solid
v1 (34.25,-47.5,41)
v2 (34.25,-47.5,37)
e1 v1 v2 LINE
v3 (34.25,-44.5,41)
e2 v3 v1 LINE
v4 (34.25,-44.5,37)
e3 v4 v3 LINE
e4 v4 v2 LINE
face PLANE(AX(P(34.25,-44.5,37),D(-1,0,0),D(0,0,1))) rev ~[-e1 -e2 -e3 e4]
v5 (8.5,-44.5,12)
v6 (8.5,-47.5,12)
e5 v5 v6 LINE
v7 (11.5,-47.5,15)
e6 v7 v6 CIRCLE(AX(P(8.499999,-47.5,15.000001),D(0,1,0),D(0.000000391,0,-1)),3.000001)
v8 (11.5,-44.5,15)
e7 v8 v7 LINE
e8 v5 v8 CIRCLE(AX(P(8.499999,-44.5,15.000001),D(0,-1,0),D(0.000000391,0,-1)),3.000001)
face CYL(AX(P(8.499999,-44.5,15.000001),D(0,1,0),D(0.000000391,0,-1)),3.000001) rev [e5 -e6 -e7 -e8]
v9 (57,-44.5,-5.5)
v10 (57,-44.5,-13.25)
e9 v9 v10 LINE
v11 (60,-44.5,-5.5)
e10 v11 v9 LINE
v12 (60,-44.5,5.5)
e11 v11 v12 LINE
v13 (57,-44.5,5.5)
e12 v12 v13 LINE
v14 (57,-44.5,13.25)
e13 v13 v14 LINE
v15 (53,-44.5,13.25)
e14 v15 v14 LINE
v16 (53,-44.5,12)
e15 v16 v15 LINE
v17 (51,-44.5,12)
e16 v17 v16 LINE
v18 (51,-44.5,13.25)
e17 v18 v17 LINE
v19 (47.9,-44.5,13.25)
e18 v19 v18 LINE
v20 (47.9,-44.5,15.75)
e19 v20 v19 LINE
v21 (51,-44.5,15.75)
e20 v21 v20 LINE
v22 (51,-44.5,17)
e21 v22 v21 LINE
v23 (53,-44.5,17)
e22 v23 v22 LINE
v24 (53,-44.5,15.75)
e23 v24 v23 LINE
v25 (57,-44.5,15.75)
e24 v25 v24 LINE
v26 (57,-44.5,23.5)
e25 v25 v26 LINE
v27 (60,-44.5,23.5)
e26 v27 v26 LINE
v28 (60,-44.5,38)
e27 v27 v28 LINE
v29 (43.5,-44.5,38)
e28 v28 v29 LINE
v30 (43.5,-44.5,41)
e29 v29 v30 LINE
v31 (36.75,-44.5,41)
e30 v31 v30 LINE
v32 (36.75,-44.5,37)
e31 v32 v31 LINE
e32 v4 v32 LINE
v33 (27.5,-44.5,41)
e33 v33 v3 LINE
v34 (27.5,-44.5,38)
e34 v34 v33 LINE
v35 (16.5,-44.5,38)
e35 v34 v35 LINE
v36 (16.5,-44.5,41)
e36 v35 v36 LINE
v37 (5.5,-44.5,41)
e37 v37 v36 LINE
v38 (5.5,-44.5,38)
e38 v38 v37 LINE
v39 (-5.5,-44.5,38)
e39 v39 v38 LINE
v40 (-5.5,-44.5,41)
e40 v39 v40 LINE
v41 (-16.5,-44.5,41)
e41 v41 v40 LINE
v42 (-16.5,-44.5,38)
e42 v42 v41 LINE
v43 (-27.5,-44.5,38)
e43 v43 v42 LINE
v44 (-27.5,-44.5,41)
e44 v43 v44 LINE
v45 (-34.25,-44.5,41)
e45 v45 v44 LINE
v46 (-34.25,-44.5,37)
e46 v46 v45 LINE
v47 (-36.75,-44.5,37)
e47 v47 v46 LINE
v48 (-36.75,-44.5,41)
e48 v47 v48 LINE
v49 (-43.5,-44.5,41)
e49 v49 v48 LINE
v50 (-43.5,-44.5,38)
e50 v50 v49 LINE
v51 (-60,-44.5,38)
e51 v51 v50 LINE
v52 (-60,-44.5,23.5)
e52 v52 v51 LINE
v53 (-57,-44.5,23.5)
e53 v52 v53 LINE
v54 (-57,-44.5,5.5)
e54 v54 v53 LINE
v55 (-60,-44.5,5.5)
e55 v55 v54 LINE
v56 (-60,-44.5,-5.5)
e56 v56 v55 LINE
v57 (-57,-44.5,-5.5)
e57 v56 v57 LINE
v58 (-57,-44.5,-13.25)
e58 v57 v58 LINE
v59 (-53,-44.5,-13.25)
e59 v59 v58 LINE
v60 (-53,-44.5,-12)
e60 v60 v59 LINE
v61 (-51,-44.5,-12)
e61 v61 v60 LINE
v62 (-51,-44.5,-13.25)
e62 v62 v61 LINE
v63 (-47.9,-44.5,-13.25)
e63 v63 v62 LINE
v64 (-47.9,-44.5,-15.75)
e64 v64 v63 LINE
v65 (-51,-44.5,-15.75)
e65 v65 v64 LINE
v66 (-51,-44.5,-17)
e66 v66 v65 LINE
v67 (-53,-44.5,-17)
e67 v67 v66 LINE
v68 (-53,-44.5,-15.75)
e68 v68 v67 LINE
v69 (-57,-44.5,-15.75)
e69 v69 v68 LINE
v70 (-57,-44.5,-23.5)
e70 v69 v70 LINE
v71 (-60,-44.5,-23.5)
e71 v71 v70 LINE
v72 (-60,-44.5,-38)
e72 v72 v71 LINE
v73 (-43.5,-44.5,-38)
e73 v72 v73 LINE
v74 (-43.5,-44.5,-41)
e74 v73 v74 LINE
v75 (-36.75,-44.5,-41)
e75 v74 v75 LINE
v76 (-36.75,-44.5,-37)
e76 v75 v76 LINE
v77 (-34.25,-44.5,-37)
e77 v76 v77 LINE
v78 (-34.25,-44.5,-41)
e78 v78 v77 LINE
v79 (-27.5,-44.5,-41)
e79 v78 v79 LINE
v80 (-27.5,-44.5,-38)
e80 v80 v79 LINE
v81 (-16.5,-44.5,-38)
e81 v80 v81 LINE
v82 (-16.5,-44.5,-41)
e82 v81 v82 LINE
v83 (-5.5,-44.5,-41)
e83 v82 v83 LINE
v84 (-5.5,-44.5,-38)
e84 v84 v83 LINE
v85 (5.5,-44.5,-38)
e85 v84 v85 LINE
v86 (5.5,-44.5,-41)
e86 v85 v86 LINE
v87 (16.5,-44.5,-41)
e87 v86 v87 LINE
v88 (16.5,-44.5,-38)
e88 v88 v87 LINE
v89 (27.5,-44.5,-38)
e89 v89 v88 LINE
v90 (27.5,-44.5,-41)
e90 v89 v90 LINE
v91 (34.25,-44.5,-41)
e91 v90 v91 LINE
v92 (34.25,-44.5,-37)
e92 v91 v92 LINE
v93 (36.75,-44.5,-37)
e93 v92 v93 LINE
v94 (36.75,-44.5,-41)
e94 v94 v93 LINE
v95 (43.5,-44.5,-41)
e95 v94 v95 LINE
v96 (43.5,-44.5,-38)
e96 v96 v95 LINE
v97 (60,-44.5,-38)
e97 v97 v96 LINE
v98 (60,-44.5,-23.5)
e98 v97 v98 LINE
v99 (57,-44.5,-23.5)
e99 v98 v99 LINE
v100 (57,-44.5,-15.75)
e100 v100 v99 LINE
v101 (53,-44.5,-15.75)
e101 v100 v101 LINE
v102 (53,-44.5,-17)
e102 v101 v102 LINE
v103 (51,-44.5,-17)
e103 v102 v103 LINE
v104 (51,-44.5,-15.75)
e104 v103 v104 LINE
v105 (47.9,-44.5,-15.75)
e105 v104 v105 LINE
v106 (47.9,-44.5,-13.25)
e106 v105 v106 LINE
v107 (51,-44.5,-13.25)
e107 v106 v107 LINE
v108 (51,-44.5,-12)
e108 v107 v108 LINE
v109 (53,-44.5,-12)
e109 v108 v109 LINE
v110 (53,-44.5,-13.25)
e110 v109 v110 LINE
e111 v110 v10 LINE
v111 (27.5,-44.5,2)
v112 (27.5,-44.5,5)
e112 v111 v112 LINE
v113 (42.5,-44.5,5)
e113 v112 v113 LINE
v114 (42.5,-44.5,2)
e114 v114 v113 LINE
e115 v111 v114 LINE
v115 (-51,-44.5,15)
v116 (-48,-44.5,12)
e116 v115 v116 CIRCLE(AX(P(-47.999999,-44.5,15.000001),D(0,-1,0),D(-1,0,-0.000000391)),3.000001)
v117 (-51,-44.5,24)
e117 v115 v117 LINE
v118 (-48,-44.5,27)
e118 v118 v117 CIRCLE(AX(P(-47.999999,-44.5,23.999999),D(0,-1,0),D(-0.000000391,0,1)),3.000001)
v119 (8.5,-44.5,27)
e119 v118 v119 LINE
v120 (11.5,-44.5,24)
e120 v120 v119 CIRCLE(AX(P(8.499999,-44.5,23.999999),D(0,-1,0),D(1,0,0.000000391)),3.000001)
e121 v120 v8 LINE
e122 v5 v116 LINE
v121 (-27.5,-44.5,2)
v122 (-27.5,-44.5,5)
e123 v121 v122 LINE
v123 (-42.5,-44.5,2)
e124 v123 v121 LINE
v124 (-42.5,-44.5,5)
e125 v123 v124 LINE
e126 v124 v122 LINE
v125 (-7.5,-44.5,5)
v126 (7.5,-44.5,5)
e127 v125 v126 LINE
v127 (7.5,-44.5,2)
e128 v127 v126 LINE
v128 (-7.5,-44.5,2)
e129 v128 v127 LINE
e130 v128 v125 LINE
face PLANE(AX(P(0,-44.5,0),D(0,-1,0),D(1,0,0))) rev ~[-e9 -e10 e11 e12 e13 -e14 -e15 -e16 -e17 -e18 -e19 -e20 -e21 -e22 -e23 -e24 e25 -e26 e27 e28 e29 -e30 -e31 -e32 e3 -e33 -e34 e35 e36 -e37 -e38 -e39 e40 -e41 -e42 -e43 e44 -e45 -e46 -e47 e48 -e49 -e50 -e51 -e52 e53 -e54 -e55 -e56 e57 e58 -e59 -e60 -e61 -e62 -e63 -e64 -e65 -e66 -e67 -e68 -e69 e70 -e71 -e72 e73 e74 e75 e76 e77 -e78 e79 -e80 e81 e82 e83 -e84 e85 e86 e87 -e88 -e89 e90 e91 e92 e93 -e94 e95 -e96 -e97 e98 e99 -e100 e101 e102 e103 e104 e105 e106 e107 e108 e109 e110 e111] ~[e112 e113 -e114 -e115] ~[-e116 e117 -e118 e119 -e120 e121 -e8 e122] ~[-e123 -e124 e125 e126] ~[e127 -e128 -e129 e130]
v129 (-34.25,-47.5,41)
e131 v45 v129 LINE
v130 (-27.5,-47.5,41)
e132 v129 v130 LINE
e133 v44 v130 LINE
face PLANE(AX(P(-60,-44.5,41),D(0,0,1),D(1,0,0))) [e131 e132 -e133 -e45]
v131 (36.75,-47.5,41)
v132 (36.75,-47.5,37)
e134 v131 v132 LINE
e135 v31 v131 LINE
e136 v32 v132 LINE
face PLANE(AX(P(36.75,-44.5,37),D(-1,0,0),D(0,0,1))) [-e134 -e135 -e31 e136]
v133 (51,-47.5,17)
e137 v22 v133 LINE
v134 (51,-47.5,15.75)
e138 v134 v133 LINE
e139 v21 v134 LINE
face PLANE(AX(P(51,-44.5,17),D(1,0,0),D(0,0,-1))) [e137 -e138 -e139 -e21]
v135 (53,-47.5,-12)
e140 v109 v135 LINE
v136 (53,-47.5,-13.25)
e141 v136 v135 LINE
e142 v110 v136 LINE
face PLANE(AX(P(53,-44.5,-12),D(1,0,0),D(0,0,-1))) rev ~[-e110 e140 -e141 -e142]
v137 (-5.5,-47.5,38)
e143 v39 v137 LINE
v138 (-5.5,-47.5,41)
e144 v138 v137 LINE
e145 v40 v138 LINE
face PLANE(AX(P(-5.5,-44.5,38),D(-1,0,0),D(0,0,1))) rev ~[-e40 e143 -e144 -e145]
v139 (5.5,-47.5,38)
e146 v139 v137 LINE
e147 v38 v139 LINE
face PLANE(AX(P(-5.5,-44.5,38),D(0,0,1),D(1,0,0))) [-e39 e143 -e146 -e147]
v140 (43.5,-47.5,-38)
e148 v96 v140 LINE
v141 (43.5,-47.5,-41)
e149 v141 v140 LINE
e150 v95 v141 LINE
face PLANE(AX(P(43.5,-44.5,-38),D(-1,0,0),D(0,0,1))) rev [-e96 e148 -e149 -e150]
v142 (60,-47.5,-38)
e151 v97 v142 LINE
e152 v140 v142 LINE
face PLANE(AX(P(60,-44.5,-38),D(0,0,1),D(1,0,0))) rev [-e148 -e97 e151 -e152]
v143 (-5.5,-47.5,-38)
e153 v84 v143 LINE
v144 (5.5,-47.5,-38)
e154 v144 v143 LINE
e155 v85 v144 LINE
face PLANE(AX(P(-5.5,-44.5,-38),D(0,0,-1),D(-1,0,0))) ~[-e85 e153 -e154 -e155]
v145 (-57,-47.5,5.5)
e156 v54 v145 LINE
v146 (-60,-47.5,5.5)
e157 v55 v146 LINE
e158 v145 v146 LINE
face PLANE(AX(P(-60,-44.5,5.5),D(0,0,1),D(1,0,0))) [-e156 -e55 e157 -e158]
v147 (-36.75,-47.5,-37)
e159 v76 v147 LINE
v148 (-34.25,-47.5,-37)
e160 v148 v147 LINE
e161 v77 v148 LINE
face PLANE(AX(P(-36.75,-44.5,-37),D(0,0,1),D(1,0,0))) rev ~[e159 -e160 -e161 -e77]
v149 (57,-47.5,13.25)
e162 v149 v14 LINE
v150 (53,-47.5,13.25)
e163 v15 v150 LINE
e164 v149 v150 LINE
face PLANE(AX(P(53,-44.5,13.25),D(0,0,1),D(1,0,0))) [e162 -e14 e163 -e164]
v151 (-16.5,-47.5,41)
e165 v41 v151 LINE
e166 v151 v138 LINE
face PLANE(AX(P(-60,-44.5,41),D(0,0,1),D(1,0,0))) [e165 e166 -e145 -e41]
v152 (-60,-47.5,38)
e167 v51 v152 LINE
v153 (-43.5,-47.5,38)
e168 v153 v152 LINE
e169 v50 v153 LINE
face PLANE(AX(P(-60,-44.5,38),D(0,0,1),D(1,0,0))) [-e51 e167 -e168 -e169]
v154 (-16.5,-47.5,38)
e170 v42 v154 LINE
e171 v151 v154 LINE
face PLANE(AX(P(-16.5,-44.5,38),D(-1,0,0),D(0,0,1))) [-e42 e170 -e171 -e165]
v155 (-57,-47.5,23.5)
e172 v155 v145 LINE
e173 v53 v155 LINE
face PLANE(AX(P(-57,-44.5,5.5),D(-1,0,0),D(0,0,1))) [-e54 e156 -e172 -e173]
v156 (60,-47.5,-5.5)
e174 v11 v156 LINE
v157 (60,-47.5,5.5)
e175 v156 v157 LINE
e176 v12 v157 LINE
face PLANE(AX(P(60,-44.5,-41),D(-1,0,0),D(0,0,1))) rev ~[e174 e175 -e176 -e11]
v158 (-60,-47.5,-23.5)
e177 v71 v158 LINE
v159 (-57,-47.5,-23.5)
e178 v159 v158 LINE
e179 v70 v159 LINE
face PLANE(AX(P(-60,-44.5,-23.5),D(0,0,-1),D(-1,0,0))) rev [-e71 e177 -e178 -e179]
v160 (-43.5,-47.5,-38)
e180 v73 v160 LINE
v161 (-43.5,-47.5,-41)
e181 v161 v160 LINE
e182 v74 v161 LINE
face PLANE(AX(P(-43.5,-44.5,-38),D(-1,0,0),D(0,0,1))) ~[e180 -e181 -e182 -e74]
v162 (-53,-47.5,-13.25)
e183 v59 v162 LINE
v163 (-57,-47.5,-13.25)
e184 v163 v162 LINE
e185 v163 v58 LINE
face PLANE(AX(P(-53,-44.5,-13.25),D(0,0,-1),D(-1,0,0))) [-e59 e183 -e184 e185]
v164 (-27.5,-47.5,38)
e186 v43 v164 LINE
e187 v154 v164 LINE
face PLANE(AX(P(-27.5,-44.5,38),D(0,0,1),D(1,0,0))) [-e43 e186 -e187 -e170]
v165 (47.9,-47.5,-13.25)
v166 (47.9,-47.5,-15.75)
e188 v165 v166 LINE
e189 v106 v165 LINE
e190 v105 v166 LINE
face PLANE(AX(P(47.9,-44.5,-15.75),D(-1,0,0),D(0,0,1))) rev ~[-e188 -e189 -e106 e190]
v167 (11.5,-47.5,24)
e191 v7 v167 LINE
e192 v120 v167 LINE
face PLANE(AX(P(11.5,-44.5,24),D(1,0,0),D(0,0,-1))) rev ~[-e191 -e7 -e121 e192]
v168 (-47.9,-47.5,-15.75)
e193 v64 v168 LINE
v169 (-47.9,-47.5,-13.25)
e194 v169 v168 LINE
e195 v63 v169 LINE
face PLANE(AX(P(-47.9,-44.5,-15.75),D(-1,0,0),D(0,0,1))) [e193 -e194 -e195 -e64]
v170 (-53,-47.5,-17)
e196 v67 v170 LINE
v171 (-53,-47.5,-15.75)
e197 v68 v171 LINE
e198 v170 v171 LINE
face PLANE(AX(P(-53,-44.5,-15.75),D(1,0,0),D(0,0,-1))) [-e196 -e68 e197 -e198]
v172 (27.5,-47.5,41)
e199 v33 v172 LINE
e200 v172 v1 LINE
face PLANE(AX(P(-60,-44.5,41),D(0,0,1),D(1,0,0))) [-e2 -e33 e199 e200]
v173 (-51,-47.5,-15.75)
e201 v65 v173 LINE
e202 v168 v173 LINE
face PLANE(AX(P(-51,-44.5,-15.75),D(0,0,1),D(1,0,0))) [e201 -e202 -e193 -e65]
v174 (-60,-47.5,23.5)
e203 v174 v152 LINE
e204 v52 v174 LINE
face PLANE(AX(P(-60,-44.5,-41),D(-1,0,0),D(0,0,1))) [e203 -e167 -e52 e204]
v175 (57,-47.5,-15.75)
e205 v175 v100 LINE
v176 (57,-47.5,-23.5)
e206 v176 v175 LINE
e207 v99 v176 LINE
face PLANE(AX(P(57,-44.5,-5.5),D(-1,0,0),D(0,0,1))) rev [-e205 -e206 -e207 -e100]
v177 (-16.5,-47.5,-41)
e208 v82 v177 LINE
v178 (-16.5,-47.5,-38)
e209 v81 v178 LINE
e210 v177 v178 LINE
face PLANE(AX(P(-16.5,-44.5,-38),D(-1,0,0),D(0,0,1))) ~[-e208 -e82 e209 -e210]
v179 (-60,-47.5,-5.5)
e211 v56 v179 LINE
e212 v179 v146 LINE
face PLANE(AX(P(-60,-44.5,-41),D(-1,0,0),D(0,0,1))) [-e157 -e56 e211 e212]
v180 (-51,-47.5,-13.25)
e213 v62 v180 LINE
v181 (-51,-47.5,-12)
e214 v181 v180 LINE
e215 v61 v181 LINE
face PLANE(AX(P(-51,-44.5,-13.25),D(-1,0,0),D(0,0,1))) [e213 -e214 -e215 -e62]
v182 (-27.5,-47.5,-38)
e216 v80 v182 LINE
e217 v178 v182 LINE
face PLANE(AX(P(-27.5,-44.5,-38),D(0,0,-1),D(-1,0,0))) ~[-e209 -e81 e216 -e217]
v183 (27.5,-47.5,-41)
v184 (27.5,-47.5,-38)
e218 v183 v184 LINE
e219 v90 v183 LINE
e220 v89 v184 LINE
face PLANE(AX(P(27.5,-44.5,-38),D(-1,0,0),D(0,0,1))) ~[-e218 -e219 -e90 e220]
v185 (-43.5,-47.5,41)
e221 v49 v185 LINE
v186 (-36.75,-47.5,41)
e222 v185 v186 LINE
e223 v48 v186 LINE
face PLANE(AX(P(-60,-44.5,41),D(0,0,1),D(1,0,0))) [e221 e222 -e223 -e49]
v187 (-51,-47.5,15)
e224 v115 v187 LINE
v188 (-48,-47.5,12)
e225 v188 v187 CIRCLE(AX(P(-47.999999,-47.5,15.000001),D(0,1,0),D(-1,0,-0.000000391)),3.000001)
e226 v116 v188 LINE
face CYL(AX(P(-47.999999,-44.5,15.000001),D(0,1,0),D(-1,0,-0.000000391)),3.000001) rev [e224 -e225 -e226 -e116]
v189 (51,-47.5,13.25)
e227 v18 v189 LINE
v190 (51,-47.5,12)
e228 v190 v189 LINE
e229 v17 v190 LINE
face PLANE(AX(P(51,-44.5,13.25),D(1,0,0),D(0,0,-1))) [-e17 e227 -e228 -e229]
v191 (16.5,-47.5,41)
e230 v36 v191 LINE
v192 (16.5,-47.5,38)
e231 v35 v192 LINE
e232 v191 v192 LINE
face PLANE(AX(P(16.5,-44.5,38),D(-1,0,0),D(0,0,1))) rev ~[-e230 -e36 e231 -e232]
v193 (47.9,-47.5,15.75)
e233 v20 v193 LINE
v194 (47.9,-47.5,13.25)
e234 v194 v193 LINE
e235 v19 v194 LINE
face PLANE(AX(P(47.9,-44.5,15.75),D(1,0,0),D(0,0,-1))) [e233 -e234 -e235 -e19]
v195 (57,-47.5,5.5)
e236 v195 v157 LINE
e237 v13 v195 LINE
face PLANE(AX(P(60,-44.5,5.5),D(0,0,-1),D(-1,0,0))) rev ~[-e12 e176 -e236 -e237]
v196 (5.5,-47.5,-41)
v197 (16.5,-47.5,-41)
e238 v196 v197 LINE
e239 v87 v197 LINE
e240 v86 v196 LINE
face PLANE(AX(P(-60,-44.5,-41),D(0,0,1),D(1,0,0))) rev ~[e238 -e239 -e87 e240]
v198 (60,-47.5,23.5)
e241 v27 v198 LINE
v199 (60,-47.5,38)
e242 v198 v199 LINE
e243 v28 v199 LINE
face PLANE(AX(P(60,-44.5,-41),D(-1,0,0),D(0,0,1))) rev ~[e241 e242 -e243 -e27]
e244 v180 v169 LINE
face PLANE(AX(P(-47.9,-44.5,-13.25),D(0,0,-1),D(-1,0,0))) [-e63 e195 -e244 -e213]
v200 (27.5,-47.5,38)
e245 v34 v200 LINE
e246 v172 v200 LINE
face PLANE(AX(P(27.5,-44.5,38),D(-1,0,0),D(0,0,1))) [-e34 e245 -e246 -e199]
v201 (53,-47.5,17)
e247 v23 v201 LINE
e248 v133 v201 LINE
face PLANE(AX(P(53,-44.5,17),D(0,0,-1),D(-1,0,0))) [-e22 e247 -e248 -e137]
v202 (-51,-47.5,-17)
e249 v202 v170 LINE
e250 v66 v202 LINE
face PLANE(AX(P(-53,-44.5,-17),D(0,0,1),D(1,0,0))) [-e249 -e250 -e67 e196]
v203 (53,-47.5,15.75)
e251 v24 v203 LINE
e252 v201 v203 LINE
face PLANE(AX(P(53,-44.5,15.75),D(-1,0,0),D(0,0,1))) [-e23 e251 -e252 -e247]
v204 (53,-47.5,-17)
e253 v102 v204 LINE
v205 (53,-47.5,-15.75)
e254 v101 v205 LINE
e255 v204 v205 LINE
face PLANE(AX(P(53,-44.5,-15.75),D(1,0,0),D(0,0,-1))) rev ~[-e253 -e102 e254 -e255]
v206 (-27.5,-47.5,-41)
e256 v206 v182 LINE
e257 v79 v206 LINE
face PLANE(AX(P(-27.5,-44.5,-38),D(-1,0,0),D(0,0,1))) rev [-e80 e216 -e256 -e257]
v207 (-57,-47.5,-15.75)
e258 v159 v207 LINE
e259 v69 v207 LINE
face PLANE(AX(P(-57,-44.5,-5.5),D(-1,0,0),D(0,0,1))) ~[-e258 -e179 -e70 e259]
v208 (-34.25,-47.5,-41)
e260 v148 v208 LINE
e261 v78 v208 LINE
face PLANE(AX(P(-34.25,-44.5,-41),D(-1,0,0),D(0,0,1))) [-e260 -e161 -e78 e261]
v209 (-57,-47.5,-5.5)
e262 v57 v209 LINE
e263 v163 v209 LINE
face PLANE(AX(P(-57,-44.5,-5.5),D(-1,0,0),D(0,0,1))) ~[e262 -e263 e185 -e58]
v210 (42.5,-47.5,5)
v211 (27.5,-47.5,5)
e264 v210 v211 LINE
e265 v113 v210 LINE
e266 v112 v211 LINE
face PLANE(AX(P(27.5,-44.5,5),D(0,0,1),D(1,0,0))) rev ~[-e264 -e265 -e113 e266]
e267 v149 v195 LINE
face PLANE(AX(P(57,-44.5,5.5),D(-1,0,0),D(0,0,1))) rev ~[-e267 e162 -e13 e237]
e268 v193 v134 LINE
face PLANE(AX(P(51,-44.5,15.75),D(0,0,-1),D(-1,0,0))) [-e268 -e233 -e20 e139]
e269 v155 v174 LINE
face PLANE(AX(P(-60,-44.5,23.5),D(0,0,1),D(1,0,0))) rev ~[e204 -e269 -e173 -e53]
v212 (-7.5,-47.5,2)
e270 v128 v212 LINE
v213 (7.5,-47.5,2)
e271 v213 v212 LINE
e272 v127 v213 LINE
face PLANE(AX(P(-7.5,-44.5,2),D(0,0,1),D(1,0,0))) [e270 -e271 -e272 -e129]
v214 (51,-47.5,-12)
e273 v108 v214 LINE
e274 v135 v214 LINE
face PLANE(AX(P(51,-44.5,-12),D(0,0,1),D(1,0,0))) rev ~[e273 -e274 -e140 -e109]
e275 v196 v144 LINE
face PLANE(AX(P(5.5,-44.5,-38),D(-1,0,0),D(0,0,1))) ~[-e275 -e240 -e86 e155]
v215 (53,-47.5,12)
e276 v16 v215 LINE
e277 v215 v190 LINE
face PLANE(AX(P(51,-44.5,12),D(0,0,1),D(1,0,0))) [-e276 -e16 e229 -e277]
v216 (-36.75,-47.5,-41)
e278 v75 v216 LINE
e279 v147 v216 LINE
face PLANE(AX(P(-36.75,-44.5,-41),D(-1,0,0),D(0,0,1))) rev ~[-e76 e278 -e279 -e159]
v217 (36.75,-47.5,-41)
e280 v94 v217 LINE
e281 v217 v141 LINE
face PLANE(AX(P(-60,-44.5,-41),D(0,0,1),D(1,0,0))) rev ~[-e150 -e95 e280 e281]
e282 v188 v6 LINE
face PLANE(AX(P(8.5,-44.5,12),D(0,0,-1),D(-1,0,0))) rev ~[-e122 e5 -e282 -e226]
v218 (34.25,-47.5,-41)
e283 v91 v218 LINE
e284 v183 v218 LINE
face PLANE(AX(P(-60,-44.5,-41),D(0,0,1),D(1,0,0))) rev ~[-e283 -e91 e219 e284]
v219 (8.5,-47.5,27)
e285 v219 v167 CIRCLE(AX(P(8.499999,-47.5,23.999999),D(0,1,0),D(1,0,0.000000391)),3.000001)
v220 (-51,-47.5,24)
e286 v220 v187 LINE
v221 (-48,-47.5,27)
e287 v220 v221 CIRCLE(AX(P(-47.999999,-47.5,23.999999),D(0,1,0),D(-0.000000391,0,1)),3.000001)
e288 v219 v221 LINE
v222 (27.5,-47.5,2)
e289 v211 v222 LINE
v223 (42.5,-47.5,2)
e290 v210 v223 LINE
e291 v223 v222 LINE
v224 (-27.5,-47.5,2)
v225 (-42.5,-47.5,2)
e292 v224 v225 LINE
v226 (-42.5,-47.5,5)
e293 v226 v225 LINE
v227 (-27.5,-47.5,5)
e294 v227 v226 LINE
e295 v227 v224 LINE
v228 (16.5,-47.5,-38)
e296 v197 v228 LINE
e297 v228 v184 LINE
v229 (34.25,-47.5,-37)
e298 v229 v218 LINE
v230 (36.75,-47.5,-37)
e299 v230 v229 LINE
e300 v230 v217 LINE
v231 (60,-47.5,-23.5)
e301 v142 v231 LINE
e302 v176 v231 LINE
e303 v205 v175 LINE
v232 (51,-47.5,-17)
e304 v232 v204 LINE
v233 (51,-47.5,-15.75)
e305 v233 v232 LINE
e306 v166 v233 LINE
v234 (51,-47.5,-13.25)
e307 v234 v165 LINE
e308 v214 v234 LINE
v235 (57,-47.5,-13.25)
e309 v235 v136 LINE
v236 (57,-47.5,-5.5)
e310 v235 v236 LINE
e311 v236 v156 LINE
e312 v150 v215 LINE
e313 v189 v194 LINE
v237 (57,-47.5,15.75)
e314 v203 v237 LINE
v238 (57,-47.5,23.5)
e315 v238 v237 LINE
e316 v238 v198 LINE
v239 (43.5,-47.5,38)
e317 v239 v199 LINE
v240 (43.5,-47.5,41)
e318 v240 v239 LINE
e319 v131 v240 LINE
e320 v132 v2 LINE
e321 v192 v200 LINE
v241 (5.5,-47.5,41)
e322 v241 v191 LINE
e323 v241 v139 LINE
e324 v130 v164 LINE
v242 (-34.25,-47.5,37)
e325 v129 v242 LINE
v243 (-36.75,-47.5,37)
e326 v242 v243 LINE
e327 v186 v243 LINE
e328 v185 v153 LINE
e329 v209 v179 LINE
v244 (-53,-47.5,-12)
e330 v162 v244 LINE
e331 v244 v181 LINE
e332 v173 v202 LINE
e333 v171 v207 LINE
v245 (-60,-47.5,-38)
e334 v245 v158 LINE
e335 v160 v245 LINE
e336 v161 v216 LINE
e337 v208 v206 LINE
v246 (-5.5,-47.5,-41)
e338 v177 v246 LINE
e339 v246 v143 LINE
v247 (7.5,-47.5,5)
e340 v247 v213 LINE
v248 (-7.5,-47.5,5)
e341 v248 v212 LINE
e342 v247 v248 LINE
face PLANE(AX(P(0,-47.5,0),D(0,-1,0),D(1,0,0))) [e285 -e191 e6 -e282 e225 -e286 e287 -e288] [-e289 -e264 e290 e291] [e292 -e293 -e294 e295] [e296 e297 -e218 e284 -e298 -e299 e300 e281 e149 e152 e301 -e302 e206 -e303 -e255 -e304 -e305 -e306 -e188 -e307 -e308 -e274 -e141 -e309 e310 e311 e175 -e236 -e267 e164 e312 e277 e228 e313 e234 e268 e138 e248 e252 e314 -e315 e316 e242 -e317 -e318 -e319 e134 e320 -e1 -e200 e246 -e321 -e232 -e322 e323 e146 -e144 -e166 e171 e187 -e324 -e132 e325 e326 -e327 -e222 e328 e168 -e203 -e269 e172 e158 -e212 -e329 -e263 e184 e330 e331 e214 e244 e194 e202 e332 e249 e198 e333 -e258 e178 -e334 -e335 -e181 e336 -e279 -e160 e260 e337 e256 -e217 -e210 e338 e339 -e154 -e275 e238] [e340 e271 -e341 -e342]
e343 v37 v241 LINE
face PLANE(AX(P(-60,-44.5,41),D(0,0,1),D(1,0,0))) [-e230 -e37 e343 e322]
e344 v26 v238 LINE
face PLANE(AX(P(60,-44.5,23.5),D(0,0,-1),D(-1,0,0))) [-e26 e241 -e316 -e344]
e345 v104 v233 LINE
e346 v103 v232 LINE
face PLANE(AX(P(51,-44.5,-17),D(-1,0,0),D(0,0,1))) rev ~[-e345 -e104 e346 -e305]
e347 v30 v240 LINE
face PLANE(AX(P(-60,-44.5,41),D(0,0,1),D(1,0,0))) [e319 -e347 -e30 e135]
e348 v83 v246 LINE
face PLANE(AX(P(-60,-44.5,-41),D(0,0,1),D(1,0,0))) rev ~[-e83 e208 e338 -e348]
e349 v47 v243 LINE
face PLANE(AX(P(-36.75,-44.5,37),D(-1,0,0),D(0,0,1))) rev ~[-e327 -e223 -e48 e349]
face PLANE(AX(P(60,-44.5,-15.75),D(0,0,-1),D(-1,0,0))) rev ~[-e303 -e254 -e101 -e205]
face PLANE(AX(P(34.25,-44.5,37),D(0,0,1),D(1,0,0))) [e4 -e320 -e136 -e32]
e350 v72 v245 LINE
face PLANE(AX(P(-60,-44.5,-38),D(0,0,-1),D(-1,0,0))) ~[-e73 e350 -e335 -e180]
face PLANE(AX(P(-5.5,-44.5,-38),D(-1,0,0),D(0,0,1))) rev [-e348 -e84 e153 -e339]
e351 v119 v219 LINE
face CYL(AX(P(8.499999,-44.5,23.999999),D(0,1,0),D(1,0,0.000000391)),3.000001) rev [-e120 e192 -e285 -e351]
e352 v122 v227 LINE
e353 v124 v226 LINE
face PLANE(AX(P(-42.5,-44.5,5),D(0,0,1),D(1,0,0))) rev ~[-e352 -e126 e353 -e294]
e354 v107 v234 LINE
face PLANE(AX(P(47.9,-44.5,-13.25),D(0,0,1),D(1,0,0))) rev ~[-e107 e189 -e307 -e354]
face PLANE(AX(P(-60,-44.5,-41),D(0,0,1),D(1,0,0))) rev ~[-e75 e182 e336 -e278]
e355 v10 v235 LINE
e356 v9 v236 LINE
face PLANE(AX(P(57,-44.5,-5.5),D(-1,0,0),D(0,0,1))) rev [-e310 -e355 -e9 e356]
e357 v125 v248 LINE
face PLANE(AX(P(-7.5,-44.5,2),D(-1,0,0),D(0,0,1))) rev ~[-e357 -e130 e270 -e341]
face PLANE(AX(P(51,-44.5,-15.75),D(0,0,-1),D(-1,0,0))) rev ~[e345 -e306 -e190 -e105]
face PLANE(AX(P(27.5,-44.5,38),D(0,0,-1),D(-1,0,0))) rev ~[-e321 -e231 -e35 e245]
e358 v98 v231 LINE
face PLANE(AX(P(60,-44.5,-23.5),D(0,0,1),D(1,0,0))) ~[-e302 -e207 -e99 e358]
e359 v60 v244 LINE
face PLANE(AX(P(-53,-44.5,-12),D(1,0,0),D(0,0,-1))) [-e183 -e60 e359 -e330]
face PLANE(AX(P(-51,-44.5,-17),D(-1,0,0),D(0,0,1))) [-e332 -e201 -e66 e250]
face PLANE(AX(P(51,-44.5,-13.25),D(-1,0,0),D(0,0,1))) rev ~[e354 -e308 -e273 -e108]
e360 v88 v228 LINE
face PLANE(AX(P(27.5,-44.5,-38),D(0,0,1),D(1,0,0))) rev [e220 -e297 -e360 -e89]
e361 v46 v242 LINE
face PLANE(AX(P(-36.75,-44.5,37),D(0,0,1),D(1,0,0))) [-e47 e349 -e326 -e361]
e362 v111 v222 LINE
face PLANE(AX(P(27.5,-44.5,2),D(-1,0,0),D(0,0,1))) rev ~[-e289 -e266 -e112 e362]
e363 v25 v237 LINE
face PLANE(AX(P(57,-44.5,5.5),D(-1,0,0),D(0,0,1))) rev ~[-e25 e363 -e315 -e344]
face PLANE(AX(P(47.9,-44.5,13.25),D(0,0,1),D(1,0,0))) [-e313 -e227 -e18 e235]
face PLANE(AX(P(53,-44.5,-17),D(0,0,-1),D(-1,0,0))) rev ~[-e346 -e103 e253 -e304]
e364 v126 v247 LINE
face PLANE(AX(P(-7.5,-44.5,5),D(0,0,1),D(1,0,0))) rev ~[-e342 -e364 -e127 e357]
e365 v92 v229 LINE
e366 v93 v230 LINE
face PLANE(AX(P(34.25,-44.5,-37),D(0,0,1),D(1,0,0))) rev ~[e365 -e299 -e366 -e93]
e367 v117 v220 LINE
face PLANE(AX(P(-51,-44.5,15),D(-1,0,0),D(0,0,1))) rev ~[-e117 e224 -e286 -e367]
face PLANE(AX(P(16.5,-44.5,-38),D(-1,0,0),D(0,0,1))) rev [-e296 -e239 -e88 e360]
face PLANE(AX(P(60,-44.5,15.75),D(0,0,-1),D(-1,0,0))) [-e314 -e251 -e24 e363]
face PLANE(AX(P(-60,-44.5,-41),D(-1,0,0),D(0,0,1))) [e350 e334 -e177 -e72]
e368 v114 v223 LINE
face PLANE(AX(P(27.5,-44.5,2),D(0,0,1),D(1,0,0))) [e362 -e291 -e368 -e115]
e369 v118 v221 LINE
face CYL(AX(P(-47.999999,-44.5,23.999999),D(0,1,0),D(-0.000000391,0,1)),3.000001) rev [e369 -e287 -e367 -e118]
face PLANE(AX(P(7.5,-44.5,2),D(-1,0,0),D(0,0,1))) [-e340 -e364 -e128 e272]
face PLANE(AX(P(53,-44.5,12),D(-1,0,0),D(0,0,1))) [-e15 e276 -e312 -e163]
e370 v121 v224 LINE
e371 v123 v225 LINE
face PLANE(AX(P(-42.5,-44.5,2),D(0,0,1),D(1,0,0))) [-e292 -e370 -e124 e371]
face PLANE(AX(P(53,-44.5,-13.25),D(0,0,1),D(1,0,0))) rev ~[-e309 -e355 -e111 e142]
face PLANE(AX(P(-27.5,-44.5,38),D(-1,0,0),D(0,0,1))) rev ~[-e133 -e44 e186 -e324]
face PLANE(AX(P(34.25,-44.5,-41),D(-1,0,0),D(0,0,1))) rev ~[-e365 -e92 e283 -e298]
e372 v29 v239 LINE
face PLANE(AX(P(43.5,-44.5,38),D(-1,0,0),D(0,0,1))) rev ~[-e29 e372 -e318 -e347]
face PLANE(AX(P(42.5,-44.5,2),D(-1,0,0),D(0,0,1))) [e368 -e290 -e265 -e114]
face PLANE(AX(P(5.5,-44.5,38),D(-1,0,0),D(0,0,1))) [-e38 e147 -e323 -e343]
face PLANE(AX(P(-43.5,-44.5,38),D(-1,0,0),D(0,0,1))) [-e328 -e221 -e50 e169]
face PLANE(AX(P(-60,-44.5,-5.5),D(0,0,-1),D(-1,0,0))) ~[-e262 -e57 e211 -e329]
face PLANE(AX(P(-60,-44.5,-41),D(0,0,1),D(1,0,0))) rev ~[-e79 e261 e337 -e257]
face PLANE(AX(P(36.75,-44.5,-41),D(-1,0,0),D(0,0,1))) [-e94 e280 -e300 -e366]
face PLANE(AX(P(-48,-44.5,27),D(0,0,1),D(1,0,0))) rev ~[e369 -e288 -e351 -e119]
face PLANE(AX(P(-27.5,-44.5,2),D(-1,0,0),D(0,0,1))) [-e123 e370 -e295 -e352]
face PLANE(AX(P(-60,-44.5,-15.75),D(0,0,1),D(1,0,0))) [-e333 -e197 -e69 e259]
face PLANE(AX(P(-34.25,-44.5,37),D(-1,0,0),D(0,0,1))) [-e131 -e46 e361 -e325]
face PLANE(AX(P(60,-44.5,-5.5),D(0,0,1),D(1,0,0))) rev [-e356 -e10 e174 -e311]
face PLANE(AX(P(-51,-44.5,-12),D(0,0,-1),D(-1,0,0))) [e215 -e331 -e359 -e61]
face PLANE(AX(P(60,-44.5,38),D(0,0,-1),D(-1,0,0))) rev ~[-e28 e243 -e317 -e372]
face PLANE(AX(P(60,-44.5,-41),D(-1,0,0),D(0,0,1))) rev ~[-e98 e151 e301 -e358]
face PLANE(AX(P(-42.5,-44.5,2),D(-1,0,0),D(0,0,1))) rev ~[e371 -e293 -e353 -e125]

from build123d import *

# Parameters (mm, degrees)
SKETCH009_W                   = 120
SKETCH009_H                   = 82
PAD002_DEPTH                  = 3
SKETCH010_W                   = 16.5
SKETCH010_H                   = 3
SKETCH010_W_2                 = 11
SKETCH010_W_3                 = 3
SKETCH010_H_2                 = 18
POCKET006_DEPTH               = 293.744874
SKETCH010_MIRRORED010_2_W     = 16.5
SKETCH010_MIRRORED010_2_H     = 3
SKETCH010_MIRRORED010_2_W_2   = 11
SKETCH010_MIRRORED010_2_W_3   = 3
SKETCH010_MIRRORED010_2_H_2   = 18
POCKET006_MIRRORED010_2_DEPTH = 293.744874
SKETCH011_W                   = 15
SKETCH011_H                   = 3
POCKET007_DEPTH               = 3.001
POCKET008_DEPTH               = 3.001
SKETCH013_W                   = 2.5
SKETCH013_H                   = 4
POCKET009_DEPTH               = 3.001


with BuildPart() as part:
    # Sketch009 → Pad002 (new body)
    with BuildSketch(Plane.XZ):
        Rectangle(SKETCH009_W, SKETCH009_H)
    extrude(amount=PAD002_DEPTH)

    # Sketch010 → Pocket006 (cut, through all)
    with BuildSketch(Plane.XZ):
        with Locations((-51.75, 39.5)):
            Rectangle(SKETCH010_W, SKETCH010_H)
        with Locations((-22, 39.5)):
            Rectangle(SKETCH010_W_2, SKETCH010_H)
        with Locations((0, 39.5)):
            Rectangle(SKETCH010_W_2, SKETCH010_H)
        with Locations((-58.5, 14.5)):
            Rectangle(SKETCH010_W_3, SKETCH010_H_2)
    pocket006 = extrude(amount=POCKET006_DEPTH, mode=Mode.SUBTRACT)

    # Sketch010 Mirrored010 2 → Pocket006 Mirrored010 2 (cut, through all)
    with BuildSketch(Plane(origin=(0, 0, 0), x_dir=(-1, 0, 0), z_dir=(0, 1, 0))):
        with Locations((-51.75, 39.5)):
            Rectangle(SKETCH010_MIRRORED010_2_W, SKETCH010_MIRRORED010_2_H)
        with Locations((-22, 39.5)):
            Rectangle(SKETCH010_MIRRORED010_2_W_2, SKETCH010_MIRRORED010_2_H)
        with Locations((0, 39.5)):
            Rectangle(SKETCH010_MIRRORED010_2_W_2, SKETCH010_MIRRORED010_2_H)
        with Locations((-58.5, 14.5)):
            Rectangle(SKETCH010_MIRRORED010_2_W_3, SKETCH010_MIRRORED010_2_H_2)
    pocket006_mirrored010_2 = extrude(amount=-POCKET006_MIRRORED010_2_DEPTH, mode=Mode.SUBTRACT)

    # Mirrored011: Pocket006, Pocket006 Mirrored010 2 across Sketch010 H_Axis
    add(pocket006.mirror(Plane(origin=(0, 0, 0), x_dir=(0, -1, 0), z_dir=(0, 0, 1))), mode=Mode.SUBTRACT)
    add(pocket006_mirrored010_2.mirror(Plane(origin=(0, 0, 0), x_dir=(0, -1, 0), z_dir=(0, 0, 1))), mode=Mode.SUBTRACT)

    # Sketch011 → Pocket007 (cut, through all)
    with BuildSketch(Plane.XZ):
        with Locations((35, 3.5)):
            Rectangle(SKETCH011_W, SKETCH011_H)
        with Locations((0, 3.5)):
            Rectangle(SKETCH011_W, SKETCH011_H)
        with Locations((-35, 3.5)):
            Rectangle(SKETCH011_W, SKETCH011_H)
    extrude(amount=POCKET007_DEPTH, mode=Mode.SUBTRACT)

    # Sketch012 → Pocket008 (cut, through all)
    with BuildSketch(Plane.XZ):
        with BuildLine():
            Line((-48, 27), (8.5, 27))
            ThreePointArc((11.5, 24), (10.62132, 26.12132), (8.5, 27))
            Line((11.5, 24), (11.5, 15))
            ThreePointArc((8.5, 12), (10.62132, 12.87868), (11.5, 15))
            Line((8.5, 12), (-48, 12))
            ThreePointArc((-51, 15), (-50.12132, 12.87868), (-48, 12))
            Line((-51, 15), (-51, 24))
            ThreePointArc((-48, 27), (-50.12132, 26.12132), (-51, 24))
        make_face()
    extrude(amount=POCKET008_DEPTH, mode=Mode.SUBTRACT)

    # Sketch013 → Pocket009 (cut, through all)
    with BuildSketch(Plane.XZ):
        Polygon((60, 15.75), (53, 15.75), (53, 17), (51, 17), (51, 15.75), (47.9, 15.75), (47.9, 13.25), (51, 13.25), (51, 12), (53, 12), (53, 13.25), (60, 13.25), align=None)
        with Locations((35.5, 39)):
            Rectangle(SKETCH013_W, SKETCH013_H)
        with Locations((-35.5, 39)):
            Rectangle(SKETCH013_W, SKETCH013_H)
        with Locations((35.5, -39)):
            Rectangle(SKETCH013_W, SKETCH013_H)
        with Locations((-35.5, -39)):
            Rectangle(SKETCH013_W, SKETCH013_H)
        Polygon((60, -15.75), (53, -15.75), (53, -17), (51, -17), (51, -15.75), (47.9, -15.75), (47.9, -13.25), (51, -13.25), (51, -12), (53, -12), (53, -13.25), (60, -13.25), align=None)
        Polygon((-60, -15.75), (-53, -15.75), (-53, -17), (-51, -17), (-51, -15.75), (-47.9, -15.75), (-47.9, -13.25), (-51, -13.25), (-51, -12), (-53, -12), (-53, -13.25), (-60, -13.25), align=None)
    extrude(amount=POCKET009_DEPTH, mode=Mode.SUBTRACT)


with BuildPart() as part_1:
    # Body003 placement: moved
    add(part.part.moved(Location((0, -44.5, 0))))


solid = part_1.part
